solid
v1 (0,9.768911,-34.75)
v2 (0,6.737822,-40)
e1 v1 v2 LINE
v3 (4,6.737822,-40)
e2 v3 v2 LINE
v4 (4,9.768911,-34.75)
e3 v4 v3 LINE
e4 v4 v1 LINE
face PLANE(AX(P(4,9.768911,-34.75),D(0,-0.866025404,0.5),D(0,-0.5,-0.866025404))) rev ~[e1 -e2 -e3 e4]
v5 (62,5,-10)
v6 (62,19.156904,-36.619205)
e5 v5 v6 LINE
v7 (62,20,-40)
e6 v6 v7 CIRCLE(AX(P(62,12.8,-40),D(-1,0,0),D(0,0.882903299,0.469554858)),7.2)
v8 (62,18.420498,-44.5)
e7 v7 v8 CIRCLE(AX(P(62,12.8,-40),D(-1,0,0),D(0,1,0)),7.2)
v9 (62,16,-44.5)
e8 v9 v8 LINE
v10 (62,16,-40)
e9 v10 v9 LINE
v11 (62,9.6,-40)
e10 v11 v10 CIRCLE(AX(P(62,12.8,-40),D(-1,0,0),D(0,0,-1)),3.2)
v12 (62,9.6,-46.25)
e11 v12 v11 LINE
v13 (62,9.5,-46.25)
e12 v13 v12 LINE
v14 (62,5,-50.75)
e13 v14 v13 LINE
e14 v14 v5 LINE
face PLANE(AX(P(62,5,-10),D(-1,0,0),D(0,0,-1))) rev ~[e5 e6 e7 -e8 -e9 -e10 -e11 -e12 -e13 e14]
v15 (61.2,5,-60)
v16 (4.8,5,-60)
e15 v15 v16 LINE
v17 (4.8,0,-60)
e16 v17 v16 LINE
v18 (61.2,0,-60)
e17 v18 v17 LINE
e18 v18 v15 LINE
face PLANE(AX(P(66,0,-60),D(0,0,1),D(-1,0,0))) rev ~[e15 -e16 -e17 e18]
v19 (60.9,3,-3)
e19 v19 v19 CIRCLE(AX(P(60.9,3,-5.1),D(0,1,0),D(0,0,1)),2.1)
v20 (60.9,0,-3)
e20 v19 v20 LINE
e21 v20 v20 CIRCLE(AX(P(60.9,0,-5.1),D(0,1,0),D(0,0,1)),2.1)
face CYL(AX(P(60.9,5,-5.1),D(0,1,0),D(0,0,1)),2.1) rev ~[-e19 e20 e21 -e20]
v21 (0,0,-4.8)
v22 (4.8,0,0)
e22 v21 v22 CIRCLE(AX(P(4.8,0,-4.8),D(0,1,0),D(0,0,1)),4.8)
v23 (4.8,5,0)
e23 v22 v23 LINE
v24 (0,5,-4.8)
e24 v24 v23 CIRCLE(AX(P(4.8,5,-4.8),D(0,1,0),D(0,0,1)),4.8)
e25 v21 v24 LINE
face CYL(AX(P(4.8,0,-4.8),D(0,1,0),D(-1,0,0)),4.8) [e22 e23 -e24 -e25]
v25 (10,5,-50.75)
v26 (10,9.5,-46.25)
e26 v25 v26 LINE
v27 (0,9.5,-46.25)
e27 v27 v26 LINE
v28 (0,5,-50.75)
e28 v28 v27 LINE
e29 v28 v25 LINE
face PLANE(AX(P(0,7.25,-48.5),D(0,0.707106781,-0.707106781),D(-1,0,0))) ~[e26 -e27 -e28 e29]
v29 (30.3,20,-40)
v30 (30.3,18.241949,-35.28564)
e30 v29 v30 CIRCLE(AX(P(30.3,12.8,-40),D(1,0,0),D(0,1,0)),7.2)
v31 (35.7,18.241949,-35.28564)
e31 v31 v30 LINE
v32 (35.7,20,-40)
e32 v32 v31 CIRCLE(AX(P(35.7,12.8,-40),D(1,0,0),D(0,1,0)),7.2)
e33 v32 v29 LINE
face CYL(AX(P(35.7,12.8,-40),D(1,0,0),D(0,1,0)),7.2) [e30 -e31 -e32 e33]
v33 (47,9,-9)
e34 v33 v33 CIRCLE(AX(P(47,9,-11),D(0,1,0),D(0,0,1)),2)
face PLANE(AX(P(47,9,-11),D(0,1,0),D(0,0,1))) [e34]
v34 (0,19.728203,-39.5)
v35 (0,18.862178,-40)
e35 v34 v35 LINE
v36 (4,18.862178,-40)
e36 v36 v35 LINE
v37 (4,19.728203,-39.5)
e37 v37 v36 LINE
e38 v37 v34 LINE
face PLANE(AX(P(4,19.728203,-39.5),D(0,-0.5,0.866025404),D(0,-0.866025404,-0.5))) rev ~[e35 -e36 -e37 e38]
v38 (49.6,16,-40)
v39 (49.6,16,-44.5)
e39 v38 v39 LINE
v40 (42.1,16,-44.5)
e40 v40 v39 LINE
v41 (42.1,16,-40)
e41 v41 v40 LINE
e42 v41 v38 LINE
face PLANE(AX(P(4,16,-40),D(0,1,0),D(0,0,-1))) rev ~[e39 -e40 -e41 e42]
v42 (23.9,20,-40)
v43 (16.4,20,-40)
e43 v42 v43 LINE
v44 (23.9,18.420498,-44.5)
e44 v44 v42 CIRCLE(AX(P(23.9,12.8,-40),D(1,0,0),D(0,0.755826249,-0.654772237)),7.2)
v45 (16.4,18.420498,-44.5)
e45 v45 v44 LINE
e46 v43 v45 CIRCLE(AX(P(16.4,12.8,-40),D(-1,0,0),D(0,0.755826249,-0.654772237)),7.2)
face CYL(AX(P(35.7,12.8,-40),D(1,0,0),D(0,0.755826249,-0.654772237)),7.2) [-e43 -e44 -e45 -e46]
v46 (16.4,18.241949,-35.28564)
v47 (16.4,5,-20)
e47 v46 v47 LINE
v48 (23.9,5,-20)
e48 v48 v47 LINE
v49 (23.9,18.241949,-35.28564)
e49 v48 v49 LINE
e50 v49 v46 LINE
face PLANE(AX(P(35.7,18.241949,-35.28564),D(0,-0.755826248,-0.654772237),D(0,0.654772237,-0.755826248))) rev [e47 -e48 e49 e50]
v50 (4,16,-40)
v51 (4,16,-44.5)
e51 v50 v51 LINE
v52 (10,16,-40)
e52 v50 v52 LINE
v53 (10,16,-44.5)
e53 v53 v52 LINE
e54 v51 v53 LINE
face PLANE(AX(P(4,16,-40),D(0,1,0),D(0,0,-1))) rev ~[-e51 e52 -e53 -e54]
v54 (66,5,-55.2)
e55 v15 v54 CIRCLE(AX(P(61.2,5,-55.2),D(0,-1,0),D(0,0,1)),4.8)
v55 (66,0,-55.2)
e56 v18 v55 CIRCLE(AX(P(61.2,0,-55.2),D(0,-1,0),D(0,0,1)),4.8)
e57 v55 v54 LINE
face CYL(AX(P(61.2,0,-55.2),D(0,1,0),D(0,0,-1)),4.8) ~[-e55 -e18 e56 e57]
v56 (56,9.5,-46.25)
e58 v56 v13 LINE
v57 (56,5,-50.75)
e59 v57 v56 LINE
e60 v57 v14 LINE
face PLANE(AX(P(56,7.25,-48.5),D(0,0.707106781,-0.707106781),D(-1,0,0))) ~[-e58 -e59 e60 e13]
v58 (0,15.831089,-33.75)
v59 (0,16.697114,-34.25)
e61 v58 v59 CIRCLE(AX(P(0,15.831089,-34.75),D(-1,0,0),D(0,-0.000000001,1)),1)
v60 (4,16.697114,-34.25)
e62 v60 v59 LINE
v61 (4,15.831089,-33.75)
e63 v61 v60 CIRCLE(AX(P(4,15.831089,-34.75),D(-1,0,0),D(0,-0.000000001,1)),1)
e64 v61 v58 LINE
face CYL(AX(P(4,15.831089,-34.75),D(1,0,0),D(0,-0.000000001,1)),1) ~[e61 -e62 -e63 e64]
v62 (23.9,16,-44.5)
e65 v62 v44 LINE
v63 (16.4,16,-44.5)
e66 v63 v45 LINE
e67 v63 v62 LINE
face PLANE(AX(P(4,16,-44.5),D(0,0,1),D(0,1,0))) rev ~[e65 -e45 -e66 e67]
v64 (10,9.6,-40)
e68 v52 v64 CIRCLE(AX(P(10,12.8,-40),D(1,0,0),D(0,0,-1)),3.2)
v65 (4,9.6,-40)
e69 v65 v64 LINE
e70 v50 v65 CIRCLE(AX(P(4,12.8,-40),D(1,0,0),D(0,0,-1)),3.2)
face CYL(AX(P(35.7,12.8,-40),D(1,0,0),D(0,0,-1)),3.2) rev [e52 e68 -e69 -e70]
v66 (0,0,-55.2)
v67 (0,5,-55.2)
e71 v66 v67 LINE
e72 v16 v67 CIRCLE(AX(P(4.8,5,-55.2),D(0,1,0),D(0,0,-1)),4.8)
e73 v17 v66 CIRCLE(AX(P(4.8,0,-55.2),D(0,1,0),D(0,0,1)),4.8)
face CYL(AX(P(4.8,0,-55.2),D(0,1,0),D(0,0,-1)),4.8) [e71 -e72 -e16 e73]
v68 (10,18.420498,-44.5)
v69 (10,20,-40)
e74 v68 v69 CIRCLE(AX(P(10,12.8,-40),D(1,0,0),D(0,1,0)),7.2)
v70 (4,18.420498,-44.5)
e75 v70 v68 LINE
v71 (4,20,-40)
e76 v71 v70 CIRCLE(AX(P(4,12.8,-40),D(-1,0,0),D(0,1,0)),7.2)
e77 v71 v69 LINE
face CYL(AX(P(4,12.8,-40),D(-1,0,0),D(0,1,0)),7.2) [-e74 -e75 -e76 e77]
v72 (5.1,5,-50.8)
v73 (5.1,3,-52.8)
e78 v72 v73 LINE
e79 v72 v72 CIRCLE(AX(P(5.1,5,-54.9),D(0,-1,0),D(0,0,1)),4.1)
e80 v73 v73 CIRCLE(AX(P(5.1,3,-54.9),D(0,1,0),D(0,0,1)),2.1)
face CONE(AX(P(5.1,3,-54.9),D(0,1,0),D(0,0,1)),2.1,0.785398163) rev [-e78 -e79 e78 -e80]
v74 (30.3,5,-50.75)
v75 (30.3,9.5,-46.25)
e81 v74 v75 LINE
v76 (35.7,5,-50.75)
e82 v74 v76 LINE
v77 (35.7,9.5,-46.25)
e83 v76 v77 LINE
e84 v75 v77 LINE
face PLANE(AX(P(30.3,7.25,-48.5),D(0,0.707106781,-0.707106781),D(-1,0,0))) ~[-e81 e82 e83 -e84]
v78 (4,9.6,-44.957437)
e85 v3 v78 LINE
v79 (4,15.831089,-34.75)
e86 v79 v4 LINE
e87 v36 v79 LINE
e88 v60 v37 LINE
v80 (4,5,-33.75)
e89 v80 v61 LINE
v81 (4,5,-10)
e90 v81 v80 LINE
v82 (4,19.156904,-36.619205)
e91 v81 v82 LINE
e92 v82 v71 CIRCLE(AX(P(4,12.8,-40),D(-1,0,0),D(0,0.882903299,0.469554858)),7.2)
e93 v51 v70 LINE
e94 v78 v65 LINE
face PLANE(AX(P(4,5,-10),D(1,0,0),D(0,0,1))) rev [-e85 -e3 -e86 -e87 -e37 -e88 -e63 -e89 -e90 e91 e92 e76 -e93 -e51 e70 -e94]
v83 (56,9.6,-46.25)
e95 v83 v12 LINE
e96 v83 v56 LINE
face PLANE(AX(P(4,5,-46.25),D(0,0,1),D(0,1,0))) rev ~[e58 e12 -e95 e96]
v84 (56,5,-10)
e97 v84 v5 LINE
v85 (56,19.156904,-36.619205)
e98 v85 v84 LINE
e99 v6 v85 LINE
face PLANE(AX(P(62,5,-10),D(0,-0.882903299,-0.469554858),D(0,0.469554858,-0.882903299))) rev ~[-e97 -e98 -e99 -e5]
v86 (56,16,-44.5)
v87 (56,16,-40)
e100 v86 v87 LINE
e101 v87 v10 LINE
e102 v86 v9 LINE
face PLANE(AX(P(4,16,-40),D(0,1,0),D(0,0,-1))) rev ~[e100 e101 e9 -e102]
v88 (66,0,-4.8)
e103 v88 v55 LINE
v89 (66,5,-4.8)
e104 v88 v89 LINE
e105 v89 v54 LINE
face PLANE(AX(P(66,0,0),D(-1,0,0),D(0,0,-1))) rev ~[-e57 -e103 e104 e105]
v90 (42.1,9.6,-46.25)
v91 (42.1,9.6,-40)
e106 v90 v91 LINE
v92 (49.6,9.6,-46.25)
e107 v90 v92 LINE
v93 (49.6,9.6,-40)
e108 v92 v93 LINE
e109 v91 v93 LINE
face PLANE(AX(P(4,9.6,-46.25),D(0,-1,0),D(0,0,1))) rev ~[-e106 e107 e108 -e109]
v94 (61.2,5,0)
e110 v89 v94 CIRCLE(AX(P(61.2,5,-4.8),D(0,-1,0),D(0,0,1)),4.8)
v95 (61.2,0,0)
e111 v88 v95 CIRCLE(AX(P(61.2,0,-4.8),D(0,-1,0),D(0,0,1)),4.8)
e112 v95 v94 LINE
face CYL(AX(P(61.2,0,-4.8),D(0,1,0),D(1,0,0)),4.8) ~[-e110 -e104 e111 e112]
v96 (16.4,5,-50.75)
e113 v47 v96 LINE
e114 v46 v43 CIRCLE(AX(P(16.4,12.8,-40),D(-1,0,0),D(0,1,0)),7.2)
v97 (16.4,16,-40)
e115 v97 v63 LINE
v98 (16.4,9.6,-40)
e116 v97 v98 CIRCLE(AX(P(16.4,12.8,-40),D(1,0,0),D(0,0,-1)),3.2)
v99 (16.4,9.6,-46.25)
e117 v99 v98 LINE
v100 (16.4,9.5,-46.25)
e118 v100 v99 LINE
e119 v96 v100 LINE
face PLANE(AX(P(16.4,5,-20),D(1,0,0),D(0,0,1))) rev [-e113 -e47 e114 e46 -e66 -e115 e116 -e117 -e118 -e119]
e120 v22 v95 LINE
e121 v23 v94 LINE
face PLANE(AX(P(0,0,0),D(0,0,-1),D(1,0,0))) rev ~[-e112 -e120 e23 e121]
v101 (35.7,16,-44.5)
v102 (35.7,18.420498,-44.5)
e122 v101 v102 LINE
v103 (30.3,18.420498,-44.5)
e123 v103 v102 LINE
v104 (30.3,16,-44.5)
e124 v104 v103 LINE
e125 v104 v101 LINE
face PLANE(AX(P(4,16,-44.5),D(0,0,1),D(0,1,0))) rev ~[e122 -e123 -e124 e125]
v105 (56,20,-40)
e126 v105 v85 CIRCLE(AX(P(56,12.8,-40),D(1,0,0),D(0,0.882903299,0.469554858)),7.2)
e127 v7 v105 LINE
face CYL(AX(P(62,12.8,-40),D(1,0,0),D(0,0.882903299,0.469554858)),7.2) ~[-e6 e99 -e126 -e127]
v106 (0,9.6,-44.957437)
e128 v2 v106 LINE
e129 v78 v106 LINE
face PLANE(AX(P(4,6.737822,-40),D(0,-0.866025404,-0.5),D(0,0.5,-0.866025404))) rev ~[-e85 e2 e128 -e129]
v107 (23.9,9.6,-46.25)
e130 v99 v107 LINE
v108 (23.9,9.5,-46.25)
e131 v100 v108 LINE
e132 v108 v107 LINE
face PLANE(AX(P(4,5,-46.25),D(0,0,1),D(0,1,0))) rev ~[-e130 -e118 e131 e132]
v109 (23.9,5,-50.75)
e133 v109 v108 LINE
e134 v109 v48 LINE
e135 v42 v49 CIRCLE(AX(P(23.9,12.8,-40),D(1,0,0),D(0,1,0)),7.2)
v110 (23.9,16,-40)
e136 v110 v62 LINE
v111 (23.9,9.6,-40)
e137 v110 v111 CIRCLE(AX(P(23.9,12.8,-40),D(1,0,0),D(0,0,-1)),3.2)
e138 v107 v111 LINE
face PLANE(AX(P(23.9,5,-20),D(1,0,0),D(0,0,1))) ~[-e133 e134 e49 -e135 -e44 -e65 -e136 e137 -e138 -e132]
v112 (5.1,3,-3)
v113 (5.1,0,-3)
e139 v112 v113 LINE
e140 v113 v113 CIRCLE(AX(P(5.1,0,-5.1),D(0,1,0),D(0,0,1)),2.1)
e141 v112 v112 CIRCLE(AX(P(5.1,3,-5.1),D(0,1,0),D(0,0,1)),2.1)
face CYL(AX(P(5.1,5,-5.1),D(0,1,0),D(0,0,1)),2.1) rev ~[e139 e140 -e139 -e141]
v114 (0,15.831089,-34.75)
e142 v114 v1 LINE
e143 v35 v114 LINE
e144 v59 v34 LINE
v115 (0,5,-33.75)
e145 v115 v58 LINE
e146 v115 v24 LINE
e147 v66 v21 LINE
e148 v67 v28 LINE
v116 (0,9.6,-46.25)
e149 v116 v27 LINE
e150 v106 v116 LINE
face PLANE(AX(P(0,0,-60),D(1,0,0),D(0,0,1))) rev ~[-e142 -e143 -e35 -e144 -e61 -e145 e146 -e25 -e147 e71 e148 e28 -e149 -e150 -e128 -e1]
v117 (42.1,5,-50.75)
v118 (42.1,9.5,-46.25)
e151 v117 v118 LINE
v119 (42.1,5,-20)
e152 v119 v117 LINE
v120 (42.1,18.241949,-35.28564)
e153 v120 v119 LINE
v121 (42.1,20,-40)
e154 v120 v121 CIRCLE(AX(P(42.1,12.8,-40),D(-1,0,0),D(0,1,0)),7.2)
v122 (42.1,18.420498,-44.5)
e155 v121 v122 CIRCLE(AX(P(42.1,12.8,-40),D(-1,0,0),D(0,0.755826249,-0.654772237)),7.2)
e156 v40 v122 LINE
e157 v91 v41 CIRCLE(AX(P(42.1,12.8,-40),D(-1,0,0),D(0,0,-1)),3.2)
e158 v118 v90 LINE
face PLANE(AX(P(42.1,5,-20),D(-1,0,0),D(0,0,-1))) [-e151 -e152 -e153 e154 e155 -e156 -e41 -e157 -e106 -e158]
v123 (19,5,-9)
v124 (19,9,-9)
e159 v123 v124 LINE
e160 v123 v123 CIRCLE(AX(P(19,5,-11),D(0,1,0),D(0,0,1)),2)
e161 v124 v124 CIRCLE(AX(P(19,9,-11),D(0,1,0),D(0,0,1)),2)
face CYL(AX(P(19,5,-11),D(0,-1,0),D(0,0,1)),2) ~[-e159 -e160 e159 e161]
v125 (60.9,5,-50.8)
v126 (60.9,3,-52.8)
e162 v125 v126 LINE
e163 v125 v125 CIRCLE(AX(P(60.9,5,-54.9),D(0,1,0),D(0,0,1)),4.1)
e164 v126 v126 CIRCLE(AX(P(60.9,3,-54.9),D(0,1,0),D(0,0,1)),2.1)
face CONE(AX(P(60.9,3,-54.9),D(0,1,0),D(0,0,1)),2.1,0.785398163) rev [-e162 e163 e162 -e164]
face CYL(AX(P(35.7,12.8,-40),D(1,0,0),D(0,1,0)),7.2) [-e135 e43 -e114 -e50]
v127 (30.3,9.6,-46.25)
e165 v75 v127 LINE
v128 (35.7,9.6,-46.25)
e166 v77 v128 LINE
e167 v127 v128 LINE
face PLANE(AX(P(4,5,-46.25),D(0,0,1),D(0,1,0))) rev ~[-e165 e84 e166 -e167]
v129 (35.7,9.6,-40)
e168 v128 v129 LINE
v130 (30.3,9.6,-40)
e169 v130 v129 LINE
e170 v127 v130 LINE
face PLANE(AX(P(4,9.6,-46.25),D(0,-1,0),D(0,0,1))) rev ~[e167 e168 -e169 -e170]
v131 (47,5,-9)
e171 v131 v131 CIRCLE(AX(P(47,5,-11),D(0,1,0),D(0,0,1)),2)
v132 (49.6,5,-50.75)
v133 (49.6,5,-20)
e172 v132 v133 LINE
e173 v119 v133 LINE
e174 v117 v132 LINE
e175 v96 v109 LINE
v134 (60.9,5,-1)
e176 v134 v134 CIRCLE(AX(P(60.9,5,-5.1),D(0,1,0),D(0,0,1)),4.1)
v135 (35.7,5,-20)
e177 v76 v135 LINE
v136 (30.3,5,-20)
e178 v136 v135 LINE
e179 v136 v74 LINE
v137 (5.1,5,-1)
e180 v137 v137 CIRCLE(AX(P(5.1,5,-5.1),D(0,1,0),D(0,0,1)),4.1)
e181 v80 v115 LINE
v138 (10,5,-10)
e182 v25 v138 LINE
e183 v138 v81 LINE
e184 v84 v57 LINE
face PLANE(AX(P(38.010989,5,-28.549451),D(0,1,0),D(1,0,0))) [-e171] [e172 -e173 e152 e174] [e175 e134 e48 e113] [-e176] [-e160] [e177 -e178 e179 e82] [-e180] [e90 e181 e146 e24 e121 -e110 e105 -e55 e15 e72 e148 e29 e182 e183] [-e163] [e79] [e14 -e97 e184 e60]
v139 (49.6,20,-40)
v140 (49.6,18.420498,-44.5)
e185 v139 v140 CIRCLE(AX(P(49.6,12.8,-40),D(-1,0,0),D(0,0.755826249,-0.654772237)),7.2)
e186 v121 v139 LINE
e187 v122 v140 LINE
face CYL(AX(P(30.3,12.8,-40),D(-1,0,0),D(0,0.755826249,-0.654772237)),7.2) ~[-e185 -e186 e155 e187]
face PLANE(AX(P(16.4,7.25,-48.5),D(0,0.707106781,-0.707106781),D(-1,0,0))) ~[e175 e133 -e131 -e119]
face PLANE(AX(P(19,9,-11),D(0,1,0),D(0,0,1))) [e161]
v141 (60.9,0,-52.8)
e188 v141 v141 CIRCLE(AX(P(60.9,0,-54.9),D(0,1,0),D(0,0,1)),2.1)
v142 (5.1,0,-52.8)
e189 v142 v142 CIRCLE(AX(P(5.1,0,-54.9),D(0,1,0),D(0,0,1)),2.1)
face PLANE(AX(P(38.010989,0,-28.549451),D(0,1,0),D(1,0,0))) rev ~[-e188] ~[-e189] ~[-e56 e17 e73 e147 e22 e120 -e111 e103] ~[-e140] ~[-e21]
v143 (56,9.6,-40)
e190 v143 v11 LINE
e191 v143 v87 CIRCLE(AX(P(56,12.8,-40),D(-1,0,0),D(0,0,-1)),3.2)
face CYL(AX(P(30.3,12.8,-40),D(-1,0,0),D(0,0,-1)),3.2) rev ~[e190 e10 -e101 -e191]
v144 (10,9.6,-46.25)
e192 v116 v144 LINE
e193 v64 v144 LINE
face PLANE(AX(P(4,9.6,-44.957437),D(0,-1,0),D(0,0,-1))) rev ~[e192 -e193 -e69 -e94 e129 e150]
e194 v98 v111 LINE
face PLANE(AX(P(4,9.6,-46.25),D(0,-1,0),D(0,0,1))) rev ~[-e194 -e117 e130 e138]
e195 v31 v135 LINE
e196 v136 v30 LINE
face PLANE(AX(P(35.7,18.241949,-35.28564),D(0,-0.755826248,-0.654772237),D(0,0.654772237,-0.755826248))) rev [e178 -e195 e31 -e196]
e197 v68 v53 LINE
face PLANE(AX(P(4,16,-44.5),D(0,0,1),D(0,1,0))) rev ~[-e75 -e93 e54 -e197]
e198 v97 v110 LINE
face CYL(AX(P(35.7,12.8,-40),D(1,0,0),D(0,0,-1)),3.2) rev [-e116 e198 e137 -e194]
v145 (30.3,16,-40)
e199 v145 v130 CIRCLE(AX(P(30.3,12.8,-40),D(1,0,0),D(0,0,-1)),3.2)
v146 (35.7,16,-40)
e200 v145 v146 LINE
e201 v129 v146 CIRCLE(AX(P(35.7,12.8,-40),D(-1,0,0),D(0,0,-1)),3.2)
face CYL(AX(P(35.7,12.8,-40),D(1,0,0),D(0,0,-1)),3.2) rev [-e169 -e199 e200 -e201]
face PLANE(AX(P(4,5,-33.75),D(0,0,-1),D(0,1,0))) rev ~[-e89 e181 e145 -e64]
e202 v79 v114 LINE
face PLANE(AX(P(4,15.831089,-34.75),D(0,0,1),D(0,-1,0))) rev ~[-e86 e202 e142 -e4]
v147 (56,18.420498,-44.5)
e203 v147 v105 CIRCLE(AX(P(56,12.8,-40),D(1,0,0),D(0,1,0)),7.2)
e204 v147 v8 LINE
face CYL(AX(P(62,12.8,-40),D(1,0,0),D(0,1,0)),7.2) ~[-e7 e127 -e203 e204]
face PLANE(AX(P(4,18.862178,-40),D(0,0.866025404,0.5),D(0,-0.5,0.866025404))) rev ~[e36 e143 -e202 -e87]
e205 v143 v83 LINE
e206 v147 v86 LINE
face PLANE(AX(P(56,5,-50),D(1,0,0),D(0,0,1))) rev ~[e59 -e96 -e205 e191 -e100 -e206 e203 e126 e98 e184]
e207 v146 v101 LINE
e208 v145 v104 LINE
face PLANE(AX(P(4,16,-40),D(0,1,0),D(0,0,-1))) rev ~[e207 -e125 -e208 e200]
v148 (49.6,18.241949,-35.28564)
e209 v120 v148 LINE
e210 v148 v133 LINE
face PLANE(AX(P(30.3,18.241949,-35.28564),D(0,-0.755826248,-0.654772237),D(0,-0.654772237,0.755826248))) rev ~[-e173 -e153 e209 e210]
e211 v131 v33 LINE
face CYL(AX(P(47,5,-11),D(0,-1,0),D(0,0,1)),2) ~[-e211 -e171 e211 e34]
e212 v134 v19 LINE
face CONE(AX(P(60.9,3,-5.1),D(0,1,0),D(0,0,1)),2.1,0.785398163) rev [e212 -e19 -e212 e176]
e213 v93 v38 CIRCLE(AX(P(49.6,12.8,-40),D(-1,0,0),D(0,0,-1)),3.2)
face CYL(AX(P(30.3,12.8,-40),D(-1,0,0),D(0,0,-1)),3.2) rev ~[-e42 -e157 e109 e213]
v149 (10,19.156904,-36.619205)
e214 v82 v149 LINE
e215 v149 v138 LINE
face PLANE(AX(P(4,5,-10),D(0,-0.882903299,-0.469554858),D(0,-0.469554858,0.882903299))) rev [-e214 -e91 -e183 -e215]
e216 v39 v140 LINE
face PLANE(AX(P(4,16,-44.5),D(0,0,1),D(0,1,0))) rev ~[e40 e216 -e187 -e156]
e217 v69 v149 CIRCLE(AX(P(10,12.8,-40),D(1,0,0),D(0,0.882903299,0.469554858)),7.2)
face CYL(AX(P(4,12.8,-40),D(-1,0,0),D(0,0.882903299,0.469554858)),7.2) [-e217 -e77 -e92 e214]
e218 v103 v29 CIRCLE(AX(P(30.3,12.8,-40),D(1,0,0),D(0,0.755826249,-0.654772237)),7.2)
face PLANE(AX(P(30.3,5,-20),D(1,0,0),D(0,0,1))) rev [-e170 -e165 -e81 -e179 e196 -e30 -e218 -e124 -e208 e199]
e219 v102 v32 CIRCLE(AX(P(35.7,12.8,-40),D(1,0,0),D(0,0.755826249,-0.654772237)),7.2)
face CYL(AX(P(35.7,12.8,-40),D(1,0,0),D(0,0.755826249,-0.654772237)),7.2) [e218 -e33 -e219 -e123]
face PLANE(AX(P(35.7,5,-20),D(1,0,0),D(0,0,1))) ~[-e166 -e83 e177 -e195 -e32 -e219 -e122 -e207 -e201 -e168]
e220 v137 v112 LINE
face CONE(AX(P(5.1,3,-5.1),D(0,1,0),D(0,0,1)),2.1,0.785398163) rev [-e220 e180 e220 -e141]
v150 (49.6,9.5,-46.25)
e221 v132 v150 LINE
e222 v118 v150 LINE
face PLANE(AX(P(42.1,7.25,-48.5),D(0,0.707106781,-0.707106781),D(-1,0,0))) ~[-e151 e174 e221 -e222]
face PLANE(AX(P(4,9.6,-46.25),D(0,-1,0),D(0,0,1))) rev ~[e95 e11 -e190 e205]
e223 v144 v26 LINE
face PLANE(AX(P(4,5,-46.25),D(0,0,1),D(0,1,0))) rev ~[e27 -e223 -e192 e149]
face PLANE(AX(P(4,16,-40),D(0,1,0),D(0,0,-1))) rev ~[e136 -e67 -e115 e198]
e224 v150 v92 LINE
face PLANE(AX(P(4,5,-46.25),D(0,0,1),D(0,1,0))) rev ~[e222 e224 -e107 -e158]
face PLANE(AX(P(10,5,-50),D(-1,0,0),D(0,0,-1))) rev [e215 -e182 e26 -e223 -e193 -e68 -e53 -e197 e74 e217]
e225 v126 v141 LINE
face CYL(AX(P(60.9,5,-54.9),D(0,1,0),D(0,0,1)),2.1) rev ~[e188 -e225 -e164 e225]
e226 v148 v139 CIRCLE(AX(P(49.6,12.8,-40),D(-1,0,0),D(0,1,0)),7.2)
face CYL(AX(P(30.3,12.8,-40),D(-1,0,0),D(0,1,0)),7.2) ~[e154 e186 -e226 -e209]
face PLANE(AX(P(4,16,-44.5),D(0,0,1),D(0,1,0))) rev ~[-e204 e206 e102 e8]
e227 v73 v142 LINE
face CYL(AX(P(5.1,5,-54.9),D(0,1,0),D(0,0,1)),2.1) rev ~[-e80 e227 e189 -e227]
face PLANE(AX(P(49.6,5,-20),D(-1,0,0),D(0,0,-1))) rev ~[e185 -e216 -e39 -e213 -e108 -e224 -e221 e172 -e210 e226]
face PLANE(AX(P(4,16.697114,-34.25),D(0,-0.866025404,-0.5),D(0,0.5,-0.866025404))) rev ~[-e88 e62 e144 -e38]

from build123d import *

# Parameters (mm, degrees)
SKETCH4_W           = 6.4
SKETCH4_H           = 40
SKETCH4_W_2         = 5.4
SKETCH4_W_3         = 7.5
BOSS_EXTRUDE4_DEPTH = 5
SKETCH6_W           = 5.4
SKETCH6_H           = 40
SKETCH6_W_2         = 7.5
BOSS_EXTRUDE5_DEPTH = 15
SKETCH7_R           = 3.2
CUT_EXTRUDE2_DEPTH  = 73.625684162
CUT_EXTRUDE3_REACH  = 74.626
CUT_EXTRUDE4_REACH  = 90.566
CUT_EXTRUDE5_REACH  = 92.449
SKETCH10_R          = 2.1
CHAMFER1_SIZE       = 2
FILLET1_R           = 4.8
SKETCH11_R          = 2
BOSS_EXTRUDE6_DEPTH = 4
BOSS_EXTRUDE7_DEPTH = 4
CUT_EXTRUDE6_DEPTH  = 89.566359302
CHAMFER2_SIZE       = 4.5


with BuildPart() as part:
    # Sketch4 → Boss-Extrude4 (new body)
    with BuildSketch(Plane(origin=(0, 0, 0), x_dir=(1, 0, 0), z_dir=(0, 1, 0))):
        Polygon((0, 60), (0, 0), (66, 0), (66, 60), (56, 60), (56, 50), (62, 50), (62, 10), (56, 10), (56, 20), (49.6, 20), (42.1, 20), (35.7, 20), (30.3, 20), (30.3, 60), align=None)
        with Locations((38.9, 40)):
            Rectangle(SKETCH4_W, SKETCH4_H)
        with Locations((33, 40)):
            Rectangle(SKETCH4_W_2, SKETCH4_H)
        with Locations((45.85, 40)):
            Rectangle(SKETCH4_W_3, SKETCH4_H)
        Polygon((56, 50), (56, 60), (49.6, 60), (49.6, 20), (56, 20), align=None)
        Polygon((62, 50), (56, 50), (56, 20), (56, 10), (62, 10), align=None)
    extrude(amount=BOSS_EXTRUDE4_DEPTH)

    # Sketch6 → Boss-Extrude5 (add)
    with BuildSketch(Plane(origin=(0, 5, 0), x_dir=(1, 0, 0), z_dir=(0, 1, 0))):
        with Locations((33, 40)):
            Rectangle(SKETCH6_W, SKETCH6_H)
        with Locations((45.85, 40)):
            Rectangle(SKETCH6_W_2, SKETCH6_H)
        Polygon((62, 50), (56, 50), (56, 20), (56, 10), (62, 10), align=None)
    boss_extrude5 = extrude(amount=BOSS_EXTRUDE5_DEPTH)

    # Sketch7 → Cut-Extrude2 (cut, through all)
    with BuildSketch(Plane.ZY.offset(-30.3)):
        with Locations(Location((-40, 12.8, 0), (0, 0, 180))):
            Circle(SKETCH7_R)
    cut_extrude2 = extrude(amount=-CUT_EXTRUDE2_DEPTH, mode=Mode.SUBTRACT)

    # Cut-Extrude3: up to this face of the body (flat: up to its plane)
    cut_extrude3_end = Plane(part.part.faces().sort_by_distance((49.6, 12.5, -20.427200187))[0])
    # Sketch8 → Cut-Extrude3 (cut, up to the picked face)
    with BuildSketch(Plane.ZY.offset(-30.3), mode=Mode.PRIVATE) as cut_extrude3_sk1:
        with BuildLine():
            Line((-60, 20), (-60, 5))
            Line((-60, 5), (-44.714360106, 18.241948989))
            ThreePointArc((-44.714360106, 18.241948989), (-42.515747134, 19.546185319), (-40, 20))
            Line((-40, 20), (-60, 20))
        make_face()
    cut_extrude3_tool1 = split(extrude(cut_extrude3_sk1.sketch, amount=-CUT_EXTRUDE3_REACH, mode=Mode.PRIVATE), bisect_by=cut_extrude3_end, keep=Keep.BOTH, mode=Mode.PRIVATE)
    # Sketch8 → Cut-Extrude3 (cut, up to the picked face)
    with BuildSketch(Plane.ZY.offset(-30.3), mode=Mode.PRIVATE) as cut_extrude3_sk2:
        with BuildLine():
            Line((-35.285639894, 18.241948989), (-20, 5))
            Line((-20, 5), (-20, 20))
            Line((-20, 20), (-40, 20))
            ThreePointArc((-40, 20), (-37.484252866, 19.546185319), (-35.285639894, 18.241948989))
        make_face()
    cut_extrude3_tool2 = split(extrude(cut_extrude3_sk2.sketch, amount=-CUT_EXTRUDE3_REACH, mode=Mode.PRIVATE), bisect_by=cut_extrude3_end, keep=Keep.BOTH, mode=Mode.PRIVATE)
    cut_extrude3_1 = cut_extrude3_tool1.solids().sort_by(Axis((30.3, 15.029403, -54.154339), (1, 0, 0)))[0]
    add(cut_extrude3_1, mode=Mode.SUBTRACT)
    cut_extrude3_2 = cut_extrude3_tool2.solids().sort_by(Axis((30.3, 15.029403, -25.845661), (1, 0, 0)))[0]
    add(cut_extrude3_2, mode=Mode.SUBTRACT)
    cut_extrude3 = cut_extrude3_1 + cut_extrude3_2  # Cut-Extrude3 as one shape, for the pattern or mirror that repeats it

    # Sketch9 → Cut-Extrude4 (cut, up to next)
    with BuildSketch(Plane(origin=(62, 0, 0), x_dir=(0, 0, -1), z_dir=(1, 0, 0)), mode=Mode.PRIVATE) as cut_extrude4_sk1:
        with BuildLine():
            ThreePointArc((36.619205024, 19.156903753), (38.257832819, 19.786047059), (40, 20))
            Line((40, 20), (10, 20))
            Line((10, 20), (10, 5))
            Line((10, 5), (36.619205024, 19.156903753))
        make_face()
    cut_extrude4_tool1 = extrude(cut_extrude4_sk1.sketch, amount=-CUT_EXTRUDE4_REACH, mode=Mode.PRIVATE) & part.part
    # Sketch9 → Cut-Extrude4 (cut, up to next)
    with BuildSketch(Plane(origin=(62, 0, 0), x_dir=(0, 0, -1), z_dir=(1, 0, 0)), mode=Mode.PRIVATE) as cut_extrude4_sk2:
        with BuildLine():
            ThreePointArc((40, 20), (44.259746459, 18.604701552), (46.868488023, 14.959600029))
            Line((46.868488023, 14.959600029), (50, 5))
            Line((50, 5), (50, 20))
            Line((50, 20), (40, 20))
        make_face()
    cut_extrude4_tool2 = extrude(cut_extrude4_sk2.sketch, amount=-CUT_EXTRUDE4_REACH, mode=Mode.PRIVATE) & part.part
    cut_extrude4_1 = cut_extrude4_tool1.solids().sort_by_distance((62, 15.005893, -19.424487))[0]
    add(cut_extrude4_1, mode=Mode.SUBTRACT)
    cut_extrude4_2 = cut_extrude4_tool2.solids().sort_by_distance((62, 15.504148, -47.92116))[0]
    add(cut_extrude4_2, mode=Mode.SUBTRACT)
    cut_extrude4 = cut_extrude4_1 + cut_extrude4_2  # Cut-Extrude4 as one shape, for the pattern or mirror that repeats it

    # Mirror1: Boss-Extrude5, Cut-Extrude2, Cut-Extrude3, Cut-Extrude4 across plane
    add(boss_extrude5.mirror(Plane.ZY.offset(-33)))
    add(cut_extrude2.mirror(Plane.ZY.offset(-33)), mode=Mode.SUBTRACT)
    add(cut_extrude3.mirror(Plane.ZY.offset(-33)), mode=Mode.SUBTRACT)
    add(cut_extrude4.mirror(Plane.ZY.offset(-33)), mode=Mode.SUBTRACT)

    # Sketch10 → Cut-Extrude5 (cut, up to next)
    with BuildSketch(Plane(origin=(0, 5, 0), x_dir=(1, 0, 0), z_dir=(0, 1, 0)), mode=Mode.PRIVATE) as cut_extrude5_sk1:
        with Locations(Location((5.1, 54.9, 0), (0, 0, 270))):
            Circle(SKETCH10_R)
    cut_extrude5_tool1 = extrude(cut_extrude5_sk1.sketch, amount=-CUT_EXTRUDE5_REACH, mode=Mode.PRIVATE) & part.part
    # Sketch10 → Cut-Extrude5 (cut, up to next)
    with BuildSketch(Plane(origin=(0, 5, 0), x_dir=(1, 0, 0), z_dir=(0, 1, 0)), mode=Mode.PRIVATE) as cut_extrude5_sk2:
        with Locations(Location((60.9, 54.9, 0), (0, 0, 270))):
            Circle(SKETCH10_R)
    cut_extrude5_tool2 = extrude(cut_extrude5_sk2.sketch, amount=-CUT_EXTRUDE5_REACH, mode=Mode.PRIVATE) & part.part
    # Sketch10 → Cut-Extrude5 (cut, up to next)
    with BuildSketch(Plane(origin=(0, 5, 0), x_dir=(1, 0, 0), z_dir=(0, 1, 0)), mode=Mode.PRIVATE) as cut_extrude5_sk3:
        with Locations(Location((60.9, 5.1, 0), (0, 0, 270))):
            Circle(SKETCH10_R)
    cut_extrude5_tool3 = extrude(cut_extrude5_sk3.sketch, amount=-CUT_EXTRUDE5_REACH, mode=Mode.PRIVATE) & part.part
    # Sketch10 → Cut-Extrude5 (cut, up to next)
    with BuildSketch(Plane(origin=(0, 5, 0), x_dir=(1, 0, 0), z_dir=(0, 1, 0)), mode=Mode.PRIVATE) as cut_extrude5_sk4:
        with Locations(Location((5.1, 5.1, 0), (0, 0, 270))):
            Circle(SKETCH10_R)
    cut_extrude5_tool4 = extrude(cut_extrude5_sk4.sketch, amount=-CUT_EXTRUDE5_REACH, mode=Mode.PRIVATE) & part.part
    add(cut_extrude5_tool1.solids().sort_by_distance((5.1, 5, -54.9))[0], mode=Mode.SUBTRACT)
    add(cut_extrude5_tool2.solids().sort_by_distance((60.9, 5, -54.9))[0], mode=Mode.SUBTRACT)
    add(cut_extrude5_tool3.solids().sort_by_distance((60.9, 5, -5.1))[0], mode=Mode.SUBTRACT)
    add(cut_extrude5_tool4.solids().sort_by_distance((5.1, 5, -5.1))[0], mode=Mode.SUBTRACT)

    # Chamfer1
    chamfer1_edges = [part.edges().sort_by_distance(p)[0] for p in [
        (5.1, 5, -7.2),
        (60.9, 5, -7.2),
        (60.9, 5, -57),
        (5.1, 5, -57),
    ]]
    chamfer(chamfer1_edges, length=CHAMFER1_SIZE)

    # Fillet1
    fillet1_edges = [part.edges().sort_by_distance(p)[0] for p in [
        (66, 2.5, 0),
        (0, 2.5, 0),
        (0, 2.5, -60),
        (66, 2.5, -60),
    ]]
    fillet(fillet1_edges, radius=FILLET1_R)

    # Sketch11 → Boss-Extrude6 (add)
    with BuildSketch(Plane(origin=(0, 5, 0), x_dir=(1, 0, 0), z_dir=(0, 1, 0))):
        with Locations(Location((19, 11, 0), (0, 0, 270))):
            Circle(SKETCH11_R)
        with Locations(Location((47, 11, 0), (0, 0, 270))):
            Circle(SKETCH11_R)
    extrude(amount=BOSS_EXTRUDE6_DEPTH)

    # Sketch12 → Boss-Extrude7 (add)
    with BuildSketch(Plane.ZY.offset(-4)):
        with BuildLine():
            Line((-39.5, 19.72820323), (-40, 18.862177826))
            Line((-40, 18.862177826), (-34.75, 15.831088913))
            Line((-34.75, 15.831088913), (-34.75, 9.768911087))
            Line((-34.75, 9.768911087), (-40, 6.737822174))
            Line((-40, 6.737822174), (-44.957437416, 9.6))
            Line((-44.957437416, 9.6), (-46.25, 9.6))
            Line((-46.25, 9.6), (-46.25, 5))
            Line((-46.25, 5), (-33.75, 5))
            Line((-33.75, 5), (-33.75, 15.831088913))
            ThreePointArc((-33.75, 15.831088913), (-33.883974596, 16.331088913), (-34.25, 16.697114317))
            Line((-34.25, 16.697114317), (-39.5, 19.72820323))
        make_face()
    extrude(amount=BOSS_EXTRUDE7_DEPTH)

    # Sketch15 → Cut-Extrude6 (cut, through all)
    with BuildSketch(Plane.ZY.offset(-4)):
        with BuildLine():
            ThreePointArc((-40, 9.6), (-43.2, 12.8), (-40, 16))
            Line((-40, 16), (-44.5, 16))
            Line((-44.5, 16), (-46.449806199, 16))
            ThreePointArc((-46.449806199, 16), (-46.679434726, 15.487964236), (-46.868488023, 14.959600029))
            Line((-46.868488023, 14.959600029), (-48.553661286, 9.6))
            Line((-48.553661286, 9.6), (-46.25, 9.6))
            Line((-46.25, 9.6), (-44.957437416, 9.6))
            Line((-44.957437416, 9.6), (-40, 9.6))
        make_face()
        with BuildLine():
            ThreePointArc((-46.868488023, 14.959600029), (-46.679434726, 15.487964236), (-46.449806199, 16))
            Line((-46.449806199, 16), (-47.302319396, 16))
            Line((-47.302319396, 16), (-54.690060838, 9.6))
            Line((-54.690060838, 9.6), (-48.553661286, 9.6))
            Line((-48.553661286, 9.6), (-46.868488023, 14.959600029))
        make_face()
        Polygon((-48.553661286, 9.6), (-54.690060838, 9.6), (-60, 5), (-55.2, 5), (-50, 5), align=None)
        Polygon((-46.25, 5), (-46.25, 9.6), (-48.553661286, 9.6), (-50, 5), align=None)
        with BuildLine():
            Line((-46.449806199, 16), (-44.5, 16))
            Line((-44.5, 16), (-44.5, 18.420498199))
            ThreePointArc((-44.5, 18.420498199), (-44.608044921, 18.332261925), (-44.714360106, 18.241948989))
            ThreePointArc((-44.714360106, 18.241948989), (-45.693525809, 17.207239937), (-46.449806199, 16))
        make_face()
        with BuildLine():
            Line((-47.302319396, 16), (-46.449806199, 16))
            ThreePointArc((-46.449806199, 16), (-45.693525809, 17.207239937), (-44.714360106, 18.241948989))
            Line((-44.714360106, 18.241948989), (-47.302319396, 16))
        make_face()
    extrude(amount=-CUT_EXTRUDE6_DEPTH, mode=Mode.SUBTRACT)

    # Chamfer2
    chamfer2_edges = [part.edges().sort_by_distance(p)[0] for p in [
        (5, 5, -46.25),
        (33, 5, -46.25),
        (45.85, 5, -46.25),
        (20.15, 5, -46.25),
        (59, 5, -46.25),
    ]]
    chamfer(chamfer2_edges, length=CHAMFER2_SIZE)


solid = part.part
